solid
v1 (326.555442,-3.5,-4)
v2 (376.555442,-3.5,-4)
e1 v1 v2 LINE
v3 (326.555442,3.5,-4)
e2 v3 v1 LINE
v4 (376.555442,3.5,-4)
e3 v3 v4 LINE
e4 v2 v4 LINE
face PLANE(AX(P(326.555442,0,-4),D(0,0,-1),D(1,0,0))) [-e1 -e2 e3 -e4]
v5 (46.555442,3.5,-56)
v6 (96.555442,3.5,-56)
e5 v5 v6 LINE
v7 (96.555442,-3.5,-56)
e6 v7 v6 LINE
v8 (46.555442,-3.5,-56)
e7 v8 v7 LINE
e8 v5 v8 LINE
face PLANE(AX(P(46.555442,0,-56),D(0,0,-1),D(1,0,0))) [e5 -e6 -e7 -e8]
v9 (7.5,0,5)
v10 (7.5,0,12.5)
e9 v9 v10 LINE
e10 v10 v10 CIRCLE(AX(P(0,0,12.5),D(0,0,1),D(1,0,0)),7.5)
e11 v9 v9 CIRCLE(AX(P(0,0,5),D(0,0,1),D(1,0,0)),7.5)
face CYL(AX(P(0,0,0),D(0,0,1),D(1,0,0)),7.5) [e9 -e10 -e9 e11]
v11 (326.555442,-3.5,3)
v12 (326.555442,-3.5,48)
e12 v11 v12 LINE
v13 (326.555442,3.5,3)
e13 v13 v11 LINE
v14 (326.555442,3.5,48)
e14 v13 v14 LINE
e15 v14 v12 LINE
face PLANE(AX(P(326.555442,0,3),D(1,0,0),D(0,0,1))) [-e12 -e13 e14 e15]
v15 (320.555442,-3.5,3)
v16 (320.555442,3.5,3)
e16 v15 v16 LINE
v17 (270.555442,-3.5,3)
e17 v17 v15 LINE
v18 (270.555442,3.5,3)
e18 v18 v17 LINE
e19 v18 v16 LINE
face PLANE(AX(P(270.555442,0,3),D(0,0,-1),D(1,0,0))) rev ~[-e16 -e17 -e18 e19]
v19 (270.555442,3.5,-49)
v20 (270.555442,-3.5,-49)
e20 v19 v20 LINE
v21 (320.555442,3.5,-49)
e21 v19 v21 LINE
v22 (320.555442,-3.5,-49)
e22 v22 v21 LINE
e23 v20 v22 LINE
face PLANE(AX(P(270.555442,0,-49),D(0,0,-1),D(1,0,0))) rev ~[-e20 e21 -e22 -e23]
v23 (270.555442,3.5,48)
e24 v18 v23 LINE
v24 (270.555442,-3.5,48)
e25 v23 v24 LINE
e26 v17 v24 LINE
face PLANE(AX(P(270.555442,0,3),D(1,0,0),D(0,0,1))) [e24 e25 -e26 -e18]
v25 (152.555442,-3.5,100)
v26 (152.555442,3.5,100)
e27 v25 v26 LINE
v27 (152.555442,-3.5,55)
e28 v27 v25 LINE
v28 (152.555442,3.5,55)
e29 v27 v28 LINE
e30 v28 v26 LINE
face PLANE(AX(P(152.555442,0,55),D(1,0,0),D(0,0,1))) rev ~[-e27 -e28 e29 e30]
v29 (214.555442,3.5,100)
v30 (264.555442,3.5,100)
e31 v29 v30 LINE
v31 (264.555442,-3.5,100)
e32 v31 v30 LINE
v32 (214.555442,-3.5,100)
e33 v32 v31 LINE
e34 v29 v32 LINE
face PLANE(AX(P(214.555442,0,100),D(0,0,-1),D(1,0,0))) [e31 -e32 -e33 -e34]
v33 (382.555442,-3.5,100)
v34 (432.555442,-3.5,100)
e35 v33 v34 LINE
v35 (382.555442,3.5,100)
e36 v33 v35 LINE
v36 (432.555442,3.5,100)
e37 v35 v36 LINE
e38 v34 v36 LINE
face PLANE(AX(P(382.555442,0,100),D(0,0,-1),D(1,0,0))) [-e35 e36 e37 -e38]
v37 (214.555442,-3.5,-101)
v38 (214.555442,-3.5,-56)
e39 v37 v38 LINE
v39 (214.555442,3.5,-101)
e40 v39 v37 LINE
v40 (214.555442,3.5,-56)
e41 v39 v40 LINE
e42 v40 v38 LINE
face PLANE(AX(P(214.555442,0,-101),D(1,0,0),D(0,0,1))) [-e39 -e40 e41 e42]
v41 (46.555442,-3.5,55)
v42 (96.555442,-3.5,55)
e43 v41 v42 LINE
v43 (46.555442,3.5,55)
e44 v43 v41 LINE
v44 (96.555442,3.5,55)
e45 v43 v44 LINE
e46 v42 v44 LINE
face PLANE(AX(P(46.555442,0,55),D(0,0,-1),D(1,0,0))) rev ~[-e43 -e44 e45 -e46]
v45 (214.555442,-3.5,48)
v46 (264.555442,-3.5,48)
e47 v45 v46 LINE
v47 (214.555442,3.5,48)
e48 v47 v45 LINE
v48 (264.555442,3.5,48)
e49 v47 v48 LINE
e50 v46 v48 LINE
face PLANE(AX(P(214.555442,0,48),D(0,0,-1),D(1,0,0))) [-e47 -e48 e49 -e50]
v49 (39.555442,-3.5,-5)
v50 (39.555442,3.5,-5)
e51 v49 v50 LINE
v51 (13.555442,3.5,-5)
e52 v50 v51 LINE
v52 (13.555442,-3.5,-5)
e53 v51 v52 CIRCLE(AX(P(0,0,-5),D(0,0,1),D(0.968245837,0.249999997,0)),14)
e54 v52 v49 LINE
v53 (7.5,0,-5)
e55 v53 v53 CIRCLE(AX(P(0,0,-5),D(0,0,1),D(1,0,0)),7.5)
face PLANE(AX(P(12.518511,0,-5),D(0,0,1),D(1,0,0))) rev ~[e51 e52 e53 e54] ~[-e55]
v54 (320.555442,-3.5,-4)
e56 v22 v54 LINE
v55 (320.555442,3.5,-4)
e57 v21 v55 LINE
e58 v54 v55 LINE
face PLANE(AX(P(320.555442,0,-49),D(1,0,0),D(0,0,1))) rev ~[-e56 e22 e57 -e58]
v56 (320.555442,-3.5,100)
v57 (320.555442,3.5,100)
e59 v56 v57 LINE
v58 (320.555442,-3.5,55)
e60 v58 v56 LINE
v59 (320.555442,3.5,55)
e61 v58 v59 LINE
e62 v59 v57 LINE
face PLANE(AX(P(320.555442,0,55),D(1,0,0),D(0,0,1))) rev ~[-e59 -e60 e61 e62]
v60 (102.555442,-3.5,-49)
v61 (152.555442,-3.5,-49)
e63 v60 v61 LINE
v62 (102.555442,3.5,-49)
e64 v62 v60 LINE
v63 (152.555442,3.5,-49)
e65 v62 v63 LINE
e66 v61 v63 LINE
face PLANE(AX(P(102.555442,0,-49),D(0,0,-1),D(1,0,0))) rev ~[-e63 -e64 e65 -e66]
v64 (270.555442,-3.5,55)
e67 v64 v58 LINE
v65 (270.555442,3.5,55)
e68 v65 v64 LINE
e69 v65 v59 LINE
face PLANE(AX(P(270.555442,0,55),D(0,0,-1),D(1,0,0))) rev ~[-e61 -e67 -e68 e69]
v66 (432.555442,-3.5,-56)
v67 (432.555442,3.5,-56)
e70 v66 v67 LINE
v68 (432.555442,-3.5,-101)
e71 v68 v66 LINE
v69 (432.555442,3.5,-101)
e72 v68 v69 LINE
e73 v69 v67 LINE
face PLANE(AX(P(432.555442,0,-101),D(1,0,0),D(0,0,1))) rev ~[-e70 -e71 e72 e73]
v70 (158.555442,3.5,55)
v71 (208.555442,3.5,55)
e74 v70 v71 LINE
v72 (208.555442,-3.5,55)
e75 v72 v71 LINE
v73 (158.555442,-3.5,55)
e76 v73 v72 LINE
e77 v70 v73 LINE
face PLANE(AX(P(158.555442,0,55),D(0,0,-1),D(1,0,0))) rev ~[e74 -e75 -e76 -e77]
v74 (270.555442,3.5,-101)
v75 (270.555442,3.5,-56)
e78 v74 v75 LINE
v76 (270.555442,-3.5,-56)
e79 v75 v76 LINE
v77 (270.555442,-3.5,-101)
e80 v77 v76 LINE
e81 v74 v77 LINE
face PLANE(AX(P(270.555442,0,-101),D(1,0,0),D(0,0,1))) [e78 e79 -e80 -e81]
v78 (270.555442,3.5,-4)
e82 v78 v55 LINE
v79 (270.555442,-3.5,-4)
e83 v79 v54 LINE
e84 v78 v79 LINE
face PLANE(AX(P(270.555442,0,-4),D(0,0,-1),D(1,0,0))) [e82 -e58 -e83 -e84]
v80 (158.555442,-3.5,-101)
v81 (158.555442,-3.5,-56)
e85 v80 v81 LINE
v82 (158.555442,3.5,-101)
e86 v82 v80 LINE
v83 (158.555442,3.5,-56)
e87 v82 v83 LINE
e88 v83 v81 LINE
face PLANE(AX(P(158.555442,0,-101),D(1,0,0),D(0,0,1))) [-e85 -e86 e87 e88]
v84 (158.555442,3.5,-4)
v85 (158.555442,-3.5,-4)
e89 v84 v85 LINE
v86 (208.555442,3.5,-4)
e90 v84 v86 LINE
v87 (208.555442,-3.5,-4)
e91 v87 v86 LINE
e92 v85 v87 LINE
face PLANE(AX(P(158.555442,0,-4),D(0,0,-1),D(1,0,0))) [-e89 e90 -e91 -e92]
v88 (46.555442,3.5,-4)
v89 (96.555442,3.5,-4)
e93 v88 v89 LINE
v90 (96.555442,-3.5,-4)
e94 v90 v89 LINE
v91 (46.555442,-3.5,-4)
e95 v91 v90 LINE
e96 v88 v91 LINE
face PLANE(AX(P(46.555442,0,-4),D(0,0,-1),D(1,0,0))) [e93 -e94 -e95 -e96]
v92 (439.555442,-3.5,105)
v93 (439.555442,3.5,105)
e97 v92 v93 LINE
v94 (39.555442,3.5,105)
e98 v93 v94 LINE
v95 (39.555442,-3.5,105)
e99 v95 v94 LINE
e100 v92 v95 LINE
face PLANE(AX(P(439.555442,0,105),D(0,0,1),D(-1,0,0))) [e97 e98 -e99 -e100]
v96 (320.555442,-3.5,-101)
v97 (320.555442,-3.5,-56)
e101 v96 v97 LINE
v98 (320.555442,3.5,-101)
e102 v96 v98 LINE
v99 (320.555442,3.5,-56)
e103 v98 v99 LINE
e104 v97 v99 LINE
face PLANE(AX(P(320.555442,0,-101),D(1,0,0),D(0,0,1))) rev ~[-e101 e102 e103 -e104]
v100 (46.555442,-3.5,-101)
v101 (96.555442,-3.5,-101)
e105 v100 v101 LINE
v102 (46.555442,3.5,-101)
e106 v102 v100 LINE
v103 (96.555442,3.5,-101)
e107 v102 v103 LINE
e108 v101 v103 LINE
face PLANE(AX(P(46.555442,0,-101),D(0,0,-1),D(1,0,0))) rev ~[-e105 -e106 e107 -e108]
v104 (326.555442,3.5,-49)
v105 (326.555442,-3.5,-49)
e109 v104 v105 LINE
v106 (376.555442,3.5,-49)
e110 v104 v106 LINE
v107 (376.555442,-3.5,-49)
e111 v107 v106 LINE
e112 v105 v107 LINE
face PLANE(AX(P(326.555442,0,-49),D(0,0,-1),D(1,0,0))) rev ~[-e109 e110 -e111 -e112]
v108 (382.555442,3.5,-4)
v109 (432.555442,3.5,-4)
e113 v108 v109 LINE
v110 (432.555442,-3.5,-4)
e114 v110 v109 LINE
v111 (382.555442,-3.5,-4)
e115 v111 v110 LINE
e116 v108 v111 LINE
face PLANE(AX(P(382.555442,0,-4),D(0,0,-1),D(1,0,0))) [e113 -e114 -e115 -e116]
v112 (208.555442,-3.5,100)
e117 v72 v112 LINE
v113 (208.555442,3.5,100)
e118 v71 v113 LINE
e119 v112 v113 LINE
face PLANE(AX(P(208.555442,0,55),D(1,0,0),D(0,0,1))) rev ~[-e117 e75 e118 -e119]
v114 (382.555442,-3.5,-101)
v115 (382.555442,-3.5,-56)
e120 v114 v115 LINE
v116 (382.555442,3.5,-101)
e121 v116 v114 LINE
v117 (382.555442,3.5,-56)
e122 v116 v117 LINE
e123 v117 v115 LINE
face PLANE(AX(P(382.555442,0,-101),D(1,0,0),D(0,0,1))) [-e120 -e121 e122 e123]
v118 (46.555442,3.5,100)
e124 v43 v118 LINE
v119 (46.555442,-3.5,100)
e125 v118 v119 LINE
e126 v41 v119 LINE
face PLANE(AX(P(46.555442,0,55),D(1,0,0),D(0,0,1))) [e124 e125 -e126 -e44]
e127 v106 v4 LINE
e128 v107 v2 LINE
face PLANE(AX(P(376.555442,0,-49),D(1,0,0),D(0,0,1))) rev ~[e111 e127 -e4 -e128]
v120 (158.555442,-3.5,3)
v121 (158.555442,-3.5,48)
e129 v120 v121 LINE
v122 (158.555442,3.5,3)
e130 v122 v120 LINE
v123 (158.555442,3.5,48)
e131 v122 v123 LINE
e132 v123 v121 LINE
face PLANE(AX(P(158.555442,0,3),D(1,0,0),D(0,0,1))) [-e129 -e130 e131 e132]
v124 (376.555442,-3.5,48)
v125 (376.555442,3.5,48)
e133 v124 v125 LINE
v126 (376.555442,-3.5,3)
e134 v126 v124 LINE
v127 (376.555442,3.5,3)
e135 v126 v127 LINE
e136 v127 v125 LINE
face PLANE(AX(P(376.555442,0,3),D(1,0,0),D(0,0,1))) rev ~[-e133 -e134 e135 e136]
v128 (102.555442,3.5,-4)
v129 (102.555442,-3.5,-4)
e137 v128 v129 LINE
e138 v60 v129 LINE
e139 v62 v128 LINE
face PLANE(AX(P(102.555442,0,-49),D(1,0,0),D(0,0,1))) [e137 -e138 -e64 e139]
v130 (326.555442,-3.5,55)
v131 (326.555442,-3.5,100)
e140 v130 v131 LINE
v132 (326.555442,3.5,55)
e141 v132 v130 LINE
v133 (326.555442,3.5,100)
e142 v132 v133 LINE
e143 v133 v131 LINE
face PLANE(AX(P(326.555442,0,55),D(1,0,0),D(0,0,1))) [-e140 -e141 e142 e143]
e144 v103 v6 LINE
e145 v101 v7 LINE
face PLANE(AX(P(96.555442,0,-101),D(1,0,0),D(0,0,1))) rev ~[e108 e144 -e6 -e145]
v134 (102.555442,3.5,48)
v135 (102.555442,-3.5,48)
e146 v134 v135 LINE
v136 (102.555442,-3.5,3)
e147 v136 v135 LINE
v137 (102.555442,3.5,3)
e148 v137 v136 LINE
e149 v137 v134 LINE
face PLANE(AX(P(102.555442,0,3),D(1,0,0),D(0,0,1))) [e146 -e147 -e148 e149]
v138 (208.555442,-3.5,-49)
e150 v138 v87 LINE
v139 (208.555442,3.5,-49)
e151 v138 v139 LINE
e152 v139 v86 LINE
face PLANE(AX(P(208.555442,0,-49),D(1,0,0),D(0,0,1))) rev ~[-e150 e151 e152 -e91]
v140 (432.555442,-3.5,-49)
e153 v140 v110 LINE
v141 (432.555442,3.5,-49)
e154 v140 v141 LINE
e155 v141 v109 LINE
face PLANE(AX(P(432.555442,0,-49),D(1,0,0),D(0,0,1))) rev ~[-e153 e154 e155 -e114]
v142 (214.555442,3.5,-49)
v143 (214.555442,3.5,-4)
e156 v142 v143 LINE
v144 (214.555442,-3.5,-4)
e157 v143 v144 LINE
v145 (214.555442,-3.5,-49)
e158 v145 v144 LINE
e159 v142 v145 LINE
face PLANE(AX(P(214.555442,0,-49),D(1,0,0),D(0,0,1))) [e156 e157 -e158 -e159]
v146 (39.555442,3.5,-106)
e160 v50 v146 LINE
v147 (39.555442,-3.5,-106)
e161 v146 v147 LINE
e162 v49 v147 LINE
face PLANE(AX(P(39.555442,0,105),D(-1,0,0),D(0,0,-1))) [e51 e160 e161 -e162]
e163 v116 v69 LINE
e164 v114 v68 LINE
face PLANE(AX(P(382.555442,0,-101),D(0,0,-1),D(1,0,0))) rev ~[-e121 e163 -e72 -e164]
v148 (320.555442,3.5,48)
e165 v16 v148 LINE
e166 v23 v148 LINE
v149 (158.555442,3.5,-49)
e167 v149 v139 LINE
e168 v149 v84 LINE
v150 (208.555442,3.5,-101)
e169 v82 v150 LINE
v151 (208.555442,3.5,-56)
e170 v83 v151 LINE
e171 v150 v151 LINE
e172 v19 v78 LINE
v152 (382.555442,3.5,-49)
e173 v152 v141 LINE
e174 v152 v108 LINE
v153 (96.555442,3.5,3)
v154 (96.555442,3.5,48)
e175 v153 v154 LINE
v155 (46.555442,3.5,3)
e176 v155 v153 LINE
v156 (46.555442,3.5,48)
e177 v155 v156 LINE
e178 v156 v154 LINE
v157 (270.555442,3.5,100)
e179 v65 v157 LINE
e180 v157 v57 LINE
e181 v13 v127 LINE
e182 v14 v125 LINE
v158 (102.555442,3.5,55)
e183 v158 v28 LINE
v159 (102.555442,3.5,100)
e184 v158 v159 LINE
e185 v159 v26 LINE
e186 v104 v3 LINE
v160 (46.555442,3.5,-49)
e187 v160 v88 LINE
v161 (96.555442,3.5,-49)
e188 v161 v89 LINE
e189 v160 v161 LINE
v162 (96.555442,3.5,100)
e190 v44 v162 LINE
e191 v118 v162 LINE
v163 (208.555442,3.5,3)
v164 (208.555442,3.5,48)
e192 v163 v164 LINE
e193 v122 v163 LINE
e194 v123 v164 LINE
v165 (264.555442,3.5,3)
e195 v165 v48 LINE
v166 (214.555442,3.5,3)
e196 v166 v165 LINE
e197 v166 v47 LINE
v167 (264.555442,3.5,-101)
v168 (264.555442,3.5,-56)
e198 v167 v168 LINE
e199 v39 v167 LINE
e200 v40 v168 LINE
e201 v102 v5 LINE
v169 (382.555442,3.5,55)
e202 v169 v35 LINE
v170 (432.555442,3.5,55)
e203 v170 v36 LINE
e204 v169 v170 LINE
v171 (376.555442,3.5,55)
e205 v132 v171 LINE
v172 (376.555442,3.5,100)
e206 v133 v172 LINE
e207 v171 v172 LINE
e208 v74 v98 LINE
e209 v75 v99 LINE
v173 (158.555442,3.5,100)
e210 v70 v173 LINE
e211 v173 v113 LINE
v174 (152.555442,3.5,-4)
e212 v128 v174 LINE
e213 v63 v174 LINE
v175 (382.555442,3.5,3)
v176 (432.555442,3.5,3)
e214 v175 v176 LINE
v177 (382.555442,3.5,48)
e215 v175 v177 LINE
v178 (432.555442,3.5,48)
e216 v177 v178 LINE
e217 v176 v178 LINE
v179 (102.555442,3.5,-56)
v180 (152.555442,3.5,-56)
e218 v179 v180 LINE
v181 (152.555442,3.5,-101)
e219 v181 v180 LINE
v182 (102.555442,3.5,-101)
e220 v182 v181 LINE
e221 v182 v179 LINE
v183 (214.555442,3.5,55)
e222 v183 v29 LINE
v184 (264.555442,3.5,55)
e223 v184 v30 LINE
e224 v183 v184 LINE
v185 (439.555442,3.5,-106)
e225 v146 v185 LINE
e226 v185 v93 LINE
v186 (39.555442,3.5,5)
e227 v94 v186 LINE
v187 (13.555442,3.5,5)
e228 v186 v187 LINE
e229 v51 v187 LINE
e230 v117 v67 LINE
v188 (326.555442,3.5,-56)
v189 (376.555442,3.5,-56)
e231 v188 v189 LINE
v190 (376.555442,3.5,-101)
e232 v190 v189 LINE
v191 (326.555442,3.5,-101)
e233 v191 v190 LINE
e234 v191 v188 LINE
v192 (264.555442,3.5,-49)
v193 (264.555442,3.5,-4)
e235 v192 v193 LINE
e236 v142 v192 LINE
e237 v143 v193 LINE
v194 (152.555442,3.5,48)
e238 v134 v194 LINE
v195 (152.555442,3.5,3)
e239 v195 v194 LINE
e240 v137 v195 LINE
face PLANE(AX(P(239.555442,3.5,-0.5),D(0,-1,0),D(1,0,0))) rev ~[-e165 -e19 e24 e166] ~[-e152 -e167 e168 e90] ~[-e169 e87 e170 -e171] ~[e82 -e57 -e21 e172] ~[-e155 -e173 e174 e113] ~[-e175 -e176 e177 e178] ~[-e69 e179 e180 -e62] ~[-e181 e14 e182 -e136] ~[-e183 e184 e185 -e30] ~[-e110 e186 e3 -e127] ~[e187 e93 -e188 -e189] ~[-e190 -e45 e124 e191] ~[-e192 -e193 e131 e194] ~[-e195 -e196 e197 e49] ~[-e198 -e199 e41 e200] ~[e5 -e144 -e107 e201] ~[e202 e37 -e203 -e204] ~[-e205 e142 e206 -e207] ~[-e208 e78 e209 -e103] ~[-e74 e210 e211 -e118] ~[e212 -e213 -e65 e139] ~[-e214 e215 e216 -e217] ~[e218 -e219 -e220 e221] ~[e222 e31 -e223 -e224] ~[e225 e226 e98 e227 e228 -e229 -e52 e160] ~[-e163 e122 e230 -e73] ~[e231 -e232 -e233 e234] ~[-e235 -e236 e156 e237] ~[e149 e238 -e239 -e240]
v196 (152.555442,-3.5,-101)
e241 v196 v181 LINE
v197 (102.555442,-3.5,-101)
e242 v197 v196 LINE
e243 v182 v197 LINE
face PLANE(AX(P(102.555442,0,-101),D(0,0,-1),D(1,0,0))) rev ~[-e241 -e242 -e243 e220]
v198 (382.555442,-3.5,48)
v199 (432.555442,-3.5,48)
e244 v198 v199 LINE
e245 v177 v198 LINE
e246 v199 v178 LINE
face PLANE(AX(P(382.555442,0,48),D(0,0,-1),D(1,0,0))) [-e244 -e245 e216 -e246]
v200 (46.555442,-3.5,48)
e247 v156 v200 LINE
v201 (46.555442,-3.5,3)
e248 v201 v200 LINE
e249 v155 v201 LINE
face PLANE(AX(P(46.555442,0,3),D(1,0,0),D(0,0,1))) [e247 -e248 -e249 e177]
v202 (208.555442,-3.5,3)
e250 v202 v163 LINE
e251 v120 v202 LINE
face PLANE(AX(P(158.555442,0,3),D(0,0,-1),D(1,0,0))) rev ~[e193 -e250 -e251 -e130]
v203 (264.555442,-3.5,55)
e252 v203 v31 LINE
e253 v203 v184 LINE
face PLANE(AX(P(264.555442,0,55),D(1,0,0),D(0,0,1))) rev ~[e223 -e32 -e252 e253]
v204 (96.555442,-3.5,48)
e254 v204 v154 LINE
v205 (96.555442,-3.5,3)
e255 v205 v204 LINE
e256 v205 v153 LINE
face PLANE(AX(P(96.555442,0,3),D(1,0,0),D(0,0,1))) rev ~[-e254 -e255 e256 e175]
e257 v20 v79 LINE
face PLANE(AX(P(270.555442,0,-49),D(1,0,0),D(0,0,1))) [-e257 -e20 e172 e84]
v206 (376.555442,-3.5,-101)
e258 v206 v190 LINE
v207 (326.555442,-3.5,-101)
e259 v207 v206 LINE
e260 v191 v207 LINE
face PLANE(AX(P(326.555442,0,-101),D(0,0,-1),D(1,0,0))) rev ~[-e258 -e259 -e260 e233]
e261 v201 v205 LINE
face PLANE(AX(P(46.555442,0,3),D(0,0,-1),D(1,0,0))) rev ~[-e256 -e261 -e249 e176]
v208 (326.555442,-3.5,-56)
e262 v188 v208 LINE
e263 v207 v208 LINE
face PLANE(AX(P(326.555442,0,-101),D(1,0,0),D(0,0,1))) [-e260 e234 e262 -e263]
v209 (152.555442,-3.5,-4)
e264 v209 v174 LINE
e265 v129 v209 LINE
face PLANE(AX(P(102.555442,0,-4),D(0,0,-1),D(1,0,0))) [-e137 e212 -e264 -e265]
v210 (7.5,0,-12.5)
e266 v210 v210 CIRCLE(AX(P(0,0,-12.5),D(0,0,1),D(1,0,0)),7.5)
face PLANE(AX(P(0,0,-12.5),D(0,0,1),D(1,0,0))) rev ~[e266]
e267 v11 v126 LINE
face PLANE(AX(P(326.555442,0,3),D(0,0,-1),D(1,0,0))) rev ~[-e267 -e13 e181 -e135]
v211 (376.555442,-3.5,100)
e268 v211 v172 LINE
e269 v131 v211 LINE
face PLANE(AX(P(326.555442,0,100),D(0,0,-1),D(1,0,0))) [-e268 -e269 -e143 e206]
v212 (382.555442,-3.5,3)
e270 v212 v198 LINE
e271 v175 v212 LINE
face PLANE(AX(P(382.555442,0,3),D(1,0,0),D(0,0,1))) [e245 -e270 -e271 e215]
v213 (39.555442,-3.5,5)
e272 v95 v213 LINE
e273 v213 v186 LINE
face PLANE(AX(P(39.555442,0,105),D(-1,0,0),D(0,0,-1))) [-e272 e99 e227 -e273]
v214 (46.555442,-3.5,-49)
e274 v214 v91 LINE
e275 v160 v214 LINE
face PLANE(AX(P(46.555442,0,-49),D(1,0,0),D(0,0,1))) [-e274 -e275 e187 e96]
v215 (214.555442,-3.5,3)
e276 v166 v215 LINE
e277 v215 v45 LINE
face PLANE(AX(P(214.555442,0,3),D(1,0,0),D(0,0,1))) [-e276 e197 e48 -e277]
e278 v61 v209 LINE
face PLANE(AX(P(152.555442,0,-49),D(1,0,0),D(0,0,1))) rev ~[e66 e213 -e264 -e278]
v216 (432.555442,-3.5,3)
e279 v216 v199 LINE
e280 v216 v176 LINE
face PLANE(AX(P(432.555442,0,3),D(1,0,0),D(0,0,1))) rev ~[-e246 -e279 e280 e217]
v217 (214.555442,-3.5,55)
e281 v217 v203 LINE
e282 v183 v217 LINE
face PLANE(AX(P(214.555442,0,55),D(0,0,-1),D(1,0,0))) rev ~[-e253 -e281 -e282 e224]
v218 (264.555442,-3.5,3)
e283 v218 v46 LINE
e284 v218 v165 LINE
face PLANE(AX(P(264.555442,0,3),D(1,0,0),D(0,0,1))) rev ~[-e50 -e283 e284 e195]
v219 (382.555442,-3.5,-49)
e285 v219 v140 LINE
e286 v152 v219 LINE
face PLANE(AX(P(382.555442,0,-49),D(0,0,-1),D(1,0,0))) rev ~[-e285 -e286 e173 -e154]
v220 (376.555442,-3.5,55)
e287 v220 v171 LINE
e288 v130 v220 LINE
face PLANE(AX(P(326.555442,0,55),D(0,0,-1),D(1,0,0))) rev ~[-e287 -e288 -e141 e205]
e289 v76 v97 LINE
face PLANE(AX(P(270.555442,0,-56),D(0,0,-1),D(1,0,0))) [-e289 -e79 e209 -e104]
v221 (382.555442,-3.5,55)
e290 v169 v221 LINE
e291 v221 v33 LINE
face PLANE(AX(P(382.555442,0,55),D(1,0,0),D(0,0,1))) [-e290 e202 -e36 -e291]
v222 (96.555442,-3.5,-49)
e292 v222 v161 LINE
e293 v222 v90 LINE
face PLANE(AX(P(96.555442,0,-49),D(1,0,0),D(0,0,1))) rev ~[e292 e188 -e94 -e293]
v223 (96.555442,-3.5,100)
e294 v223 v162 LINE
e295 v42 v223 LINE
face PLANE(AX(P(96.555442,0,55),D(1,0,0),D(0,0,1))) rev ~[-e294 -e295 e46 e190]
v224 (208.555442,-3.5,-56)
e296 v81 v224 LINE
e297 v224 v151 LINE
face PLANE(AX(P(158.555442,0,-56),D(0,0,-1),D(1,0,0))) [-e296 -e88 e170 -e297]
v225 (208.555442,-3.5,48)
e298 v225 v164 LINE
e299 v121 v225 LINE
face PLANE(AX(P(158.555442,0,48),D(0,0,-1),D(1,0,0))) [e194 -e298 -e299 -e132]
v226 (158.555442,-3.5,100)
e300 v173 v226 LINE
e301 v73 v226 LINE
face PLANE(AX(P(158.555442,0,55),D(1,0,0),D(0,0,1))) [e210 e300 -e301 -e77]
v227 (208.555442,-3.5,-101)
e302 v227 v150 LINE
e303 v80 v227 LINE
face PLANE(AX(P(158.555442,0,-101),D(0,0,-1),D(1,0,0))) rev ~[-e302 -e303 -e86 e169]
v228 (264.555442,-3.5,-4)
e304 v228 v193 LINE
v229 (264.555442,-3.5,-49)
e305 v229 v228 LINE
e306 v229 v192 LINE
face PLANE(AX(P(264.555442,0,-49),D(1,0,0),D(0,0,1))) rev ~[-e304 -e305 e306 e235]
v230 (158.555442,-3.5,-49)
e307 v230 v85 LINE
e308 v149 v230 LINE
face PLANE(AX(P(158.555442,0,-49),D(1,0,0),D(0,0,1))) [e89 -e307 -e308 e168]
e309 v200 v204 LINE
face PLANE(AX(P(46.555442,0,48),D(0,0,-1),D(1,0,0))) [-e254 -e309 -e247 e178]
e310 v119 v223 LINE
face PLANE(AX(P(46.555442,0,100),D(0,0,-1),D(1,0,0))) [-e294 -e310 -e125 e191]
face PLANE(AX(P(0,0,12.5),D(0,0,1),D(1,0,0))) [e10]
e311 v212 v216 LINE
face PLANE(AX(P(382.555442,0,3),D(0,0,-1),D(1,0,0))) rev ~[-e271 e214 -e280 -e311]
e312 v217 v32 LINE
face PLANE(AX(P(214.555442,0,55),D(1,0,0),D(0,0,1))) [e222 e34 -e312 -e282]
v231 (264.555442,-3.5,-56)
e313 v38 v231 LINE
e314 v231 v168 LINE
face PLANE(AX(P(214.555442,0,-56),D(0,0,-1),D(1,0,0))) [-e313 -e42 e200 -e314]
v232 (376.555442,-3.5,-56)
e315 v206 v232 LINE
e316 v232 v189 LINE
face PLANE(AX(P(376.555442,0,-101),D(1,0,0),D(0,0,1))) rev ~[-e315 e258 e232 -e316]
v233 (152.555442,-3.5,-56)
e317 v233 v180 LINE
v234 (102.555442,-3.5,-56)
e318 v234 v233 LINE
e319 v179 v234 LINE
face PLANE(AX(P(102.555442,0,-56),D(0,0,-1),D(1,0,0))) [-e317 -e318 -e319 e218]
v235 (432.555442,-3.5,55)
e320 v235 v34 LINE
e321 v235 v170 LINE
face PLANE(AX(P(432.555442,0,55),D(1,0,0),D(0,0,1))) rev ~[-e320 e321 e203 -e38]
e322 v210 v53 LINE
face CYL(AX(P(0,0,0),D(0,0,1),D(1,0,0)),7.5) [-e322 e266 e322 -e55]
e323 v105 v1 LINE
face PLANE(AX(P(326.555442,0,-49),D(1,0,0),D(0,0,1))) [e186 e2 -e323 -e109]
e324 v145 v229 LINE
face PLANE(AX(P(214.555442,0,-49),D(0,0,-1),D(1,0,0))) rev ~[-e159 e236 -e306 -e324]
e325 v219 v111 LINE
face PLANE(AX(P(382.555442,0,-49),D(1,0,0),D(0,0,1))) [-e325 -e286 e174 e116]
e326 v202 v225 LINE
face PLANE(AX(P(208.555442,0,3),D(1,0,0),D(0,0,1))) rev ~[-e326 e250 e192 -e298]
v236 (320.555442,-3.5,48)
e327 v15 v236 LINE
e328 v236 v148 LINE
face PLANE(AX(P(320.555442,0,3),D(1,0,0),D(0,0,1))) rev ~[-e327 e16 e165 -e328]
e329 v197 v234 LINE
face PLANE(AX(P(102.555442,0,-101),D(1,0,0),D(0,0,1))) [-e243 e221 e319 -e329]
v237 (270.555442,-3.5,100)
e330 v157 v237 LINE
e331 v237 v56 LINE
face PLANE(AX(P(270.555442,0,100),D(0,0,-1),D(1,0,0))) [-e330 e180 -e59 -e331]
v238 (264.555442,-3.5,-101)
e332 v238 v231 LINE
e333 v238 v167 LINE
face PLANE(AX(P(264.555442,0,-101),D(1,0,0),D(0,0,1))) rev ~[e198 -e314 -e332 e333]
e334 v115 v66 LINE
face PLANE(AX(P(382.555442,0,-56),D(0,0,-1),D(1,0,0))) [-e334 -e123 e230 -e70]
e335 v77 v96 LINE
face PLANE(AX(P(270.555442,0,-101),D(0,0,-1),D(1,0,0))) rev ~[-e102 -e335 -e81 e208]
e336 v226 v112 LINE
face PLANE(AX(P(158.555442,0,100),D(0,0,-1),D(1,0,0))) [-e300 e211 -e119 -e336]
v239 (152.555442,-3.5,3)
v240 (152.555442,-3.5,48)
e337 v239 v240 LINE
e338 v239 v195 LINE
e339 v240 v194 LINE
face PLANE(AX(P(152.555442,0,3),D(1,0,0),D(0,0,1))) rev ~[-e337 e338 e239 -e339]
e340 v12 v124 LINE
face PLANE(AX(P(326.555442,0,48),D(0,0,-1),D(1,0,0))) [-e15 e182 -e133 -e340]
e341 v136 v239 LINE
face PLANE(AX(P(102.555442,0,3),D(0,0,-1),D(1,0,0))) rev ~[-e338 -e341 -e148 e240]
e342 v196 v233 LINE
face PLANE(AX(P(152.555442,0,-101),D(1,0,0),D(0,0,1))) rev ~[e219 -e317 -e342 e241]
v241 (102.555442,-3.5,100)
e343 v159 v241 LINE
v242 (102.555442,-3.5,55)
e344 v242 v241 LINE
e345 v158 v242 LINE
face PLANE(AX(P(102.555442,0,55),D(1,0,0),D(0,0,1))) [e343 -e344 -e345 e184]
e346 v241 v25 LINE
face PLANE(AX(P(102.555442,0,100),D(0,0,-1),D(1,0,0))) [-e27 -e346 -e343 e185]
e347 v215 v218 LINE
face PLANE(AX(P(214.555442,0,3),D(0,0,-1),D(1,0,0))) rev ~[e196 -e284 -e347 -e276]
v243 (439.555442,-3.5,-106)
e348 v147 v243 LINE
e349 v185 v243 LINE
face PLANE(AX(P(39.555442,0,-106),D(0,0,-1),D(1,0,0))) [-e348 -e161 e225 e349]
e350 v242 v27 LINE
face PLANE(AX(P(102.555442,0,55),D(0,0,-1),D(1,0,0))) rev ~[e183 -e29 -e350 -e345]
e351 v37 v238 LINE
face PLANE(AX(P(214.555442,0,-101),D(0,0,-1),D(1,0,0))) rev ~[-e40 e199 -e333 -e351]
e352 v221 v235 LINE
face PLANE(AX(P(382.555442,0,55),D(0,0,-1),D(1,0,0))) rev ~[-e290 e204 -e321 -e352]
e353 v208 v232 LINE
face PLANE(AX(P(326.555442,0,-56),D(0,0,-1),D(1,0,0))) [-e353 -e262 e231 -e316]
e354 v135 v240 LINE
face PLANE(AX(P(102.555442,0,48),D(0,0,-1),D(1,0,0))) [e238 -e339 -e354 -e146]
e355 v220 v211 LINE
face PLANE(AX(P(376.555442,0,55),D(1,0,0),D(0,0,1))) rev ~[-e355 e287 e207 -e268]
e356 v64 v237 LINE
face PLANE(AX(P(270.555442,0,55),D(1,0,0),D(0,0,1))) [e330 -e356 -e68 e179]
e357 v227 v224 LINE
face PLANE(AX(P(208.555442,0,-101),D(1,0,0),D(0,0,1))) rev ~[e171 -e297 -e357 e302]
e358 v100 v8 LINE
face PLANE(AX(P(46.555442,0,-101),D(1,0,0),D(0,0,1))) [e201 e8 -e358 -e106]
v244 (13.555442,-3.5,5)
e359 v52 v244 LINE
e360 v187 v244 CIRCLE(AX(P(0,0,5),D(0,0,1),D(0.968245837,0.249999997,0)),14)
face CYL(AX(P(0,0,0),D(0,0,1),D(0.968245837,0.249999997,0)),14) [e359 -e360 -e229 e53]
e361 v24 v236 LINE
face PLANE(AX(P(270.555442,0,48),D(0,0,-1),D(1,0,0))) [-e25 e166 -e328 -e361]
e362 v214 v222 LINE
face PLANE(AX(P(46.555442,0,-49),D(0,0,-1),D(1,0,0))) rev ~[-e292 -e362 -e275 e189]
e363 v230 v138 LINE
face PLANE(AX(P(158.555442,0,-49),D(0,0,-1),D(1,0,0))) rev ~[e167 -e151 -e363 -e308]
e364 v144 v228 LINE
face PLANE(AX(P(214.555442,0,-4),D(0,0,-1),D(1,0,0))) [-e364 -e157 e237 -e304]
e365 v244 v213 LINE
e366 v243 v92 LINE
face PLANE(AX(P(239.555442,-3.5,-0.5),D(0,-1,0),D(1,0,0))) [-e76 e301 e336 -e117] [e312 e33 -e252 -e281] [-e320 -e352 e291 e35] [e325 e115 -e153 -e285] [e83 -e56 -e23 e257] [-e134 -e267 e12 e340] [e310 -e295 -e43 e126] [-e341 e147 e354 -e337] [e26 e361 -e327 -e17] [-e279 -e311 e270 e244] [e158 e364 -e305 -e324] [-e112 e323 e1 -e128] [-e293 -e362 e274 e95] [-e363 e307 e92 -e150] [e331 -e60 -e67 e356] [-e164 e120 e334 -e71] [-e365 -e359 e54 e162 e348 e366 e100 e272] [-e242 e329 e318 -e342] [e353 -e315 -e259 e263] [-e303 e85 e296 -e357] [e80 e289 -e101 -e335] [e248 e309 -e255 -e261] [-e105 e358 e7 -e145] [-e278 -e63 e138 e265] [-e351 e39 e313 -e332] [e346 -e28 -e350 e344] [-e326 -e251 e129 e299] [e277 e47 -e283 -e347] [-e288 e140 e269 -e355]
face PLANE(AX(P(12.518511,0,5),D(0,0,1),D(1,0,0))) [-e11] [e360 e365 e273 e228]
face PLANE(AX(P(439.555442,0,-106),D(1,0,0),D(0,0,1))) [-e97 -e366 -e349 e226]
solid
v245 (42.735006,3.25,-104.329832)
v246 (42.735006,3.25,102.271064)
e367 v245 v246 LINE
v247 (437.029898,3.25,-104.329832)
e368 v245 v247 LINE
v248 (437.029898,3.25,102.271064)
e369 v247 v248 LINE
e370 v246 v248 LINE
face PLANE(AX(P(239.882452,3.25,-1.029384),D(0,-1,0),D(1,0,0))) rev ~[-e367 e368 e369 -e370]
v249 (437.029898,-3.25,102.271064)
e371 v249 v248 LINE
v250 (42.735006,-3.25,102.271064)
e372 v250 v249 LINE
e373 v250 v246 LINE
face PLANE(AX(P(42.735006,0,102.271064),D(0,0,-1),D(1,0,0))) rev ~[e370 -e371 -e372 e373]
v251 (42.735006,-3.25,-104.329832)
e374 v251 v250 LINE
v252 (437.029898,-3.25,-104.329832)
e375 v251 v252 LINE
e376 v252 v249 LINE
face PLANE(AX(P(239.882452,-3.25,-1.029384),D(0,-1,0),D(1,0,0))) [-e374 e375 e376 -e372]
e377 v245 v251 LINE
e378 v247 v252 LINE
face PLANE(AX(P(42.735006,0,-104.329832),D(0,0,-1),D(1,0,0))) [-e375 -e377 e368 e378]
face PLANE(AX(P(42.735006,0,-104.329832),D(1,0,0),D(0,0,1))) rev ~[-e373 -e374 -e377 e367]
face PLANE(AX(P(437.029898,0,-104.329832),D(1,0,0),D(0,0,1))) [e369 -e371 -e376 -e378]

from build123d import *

# Parameters (mm, degrees)
F0_R     = 7.5
F1_DEPTH = 12.5
F3_DEPTH = 5
F4_W     = 50
F4_H     = 45
F5_DEPTH = 3.5
F6_W     = 394.294891
F6_H     = 206.600897
F7_DEPTH = 3.25


with BuildPart() as f1:
    # F0 (on Top) → F1 (new body, symmetric)
    with BuildSketch(Plane.XY):
        Circle(F0_R)
    extrude(amount=F1_DEPTH, both=True)

    # F2 (on Top) → F3 (join, symmetric)
    with BuildSketch(Plane.XY):
        with BuildLine():
            Line((39.555442, 3.5), (13.555442, 3.5))
            ThreePointArc((13.555442, 3.5), (-14, 0), (13.555442, -3.5))
            Line((13.555442, -3.5), (39.555442, -3.5))
            Line((39.555442, -3.5), (39.555442, 3.5))
        make_face()
    extrude(amount=F3_DEPTH, both=True)

    # F4 (on Front) → F5 (join, symmetric)
    with BuildSketch(Plane.XZ):
        Polygon((39.555442, 105), (39.555442, 5), (39.555442, -5), (39.555442, -106), (439.555442, -106), (439.555442, 105), align=None)
        with Locations((71.555442, -78.5)):
            Rectangle(F4_W, F4_H, mode=Mode.SUBTRACT)
        with Locations((127.555442, -78.5)):
            Rectangle(F4_W, F4_H, mode=Mode.SUBTRACT)
        with Locations((183.555442, -78.5)):
            Rectangle(F4_W, F4_H, mode=Mode.SUBTRACT)
        with Locations((239.555442, -78.5)):
            Rectangle(F4_W, F4_H, mode=Mode.SUBTRACT)
        with Locations((71.555442, -26.5)):
            Rectangle(F4_W, F4_H, mode=Mode.SUBTRACT)
        with Locations((127.555442, -26.5)):
            Rectangle(F4_W, F4_H, mode=Mode.SUBTRACT)
        with Locations((183.555442, -26.5)):
            Rectangle(F4_W, F4_H, mode=Mode.SUBTRACT)
        with Locations((239.555442, -26.5)):
            Rectangle(F4_W, F4_H, mode=Mode.SUBTRACT)
        with Locations((295.555442, -78.5)):
            Rectangle(F4_W, F4_H, mode=Mode.SUBTRACT)
        with Locations((351.555442, -78.5)):
            Rectangle(F4_W, F4_H, mode=Mode.SUBTRACT)
        with Locations((407.555442, -78.5)):
            Rectangle(F4_W, F4_H, mode=Mode.SUBTRACT)
        with Locations((295.555442, -26.5)):
            Rectangle(F4_W, F4_H, mode=Mode.SUBTRACT)
        with Locations((351.555442, -26.5)):
            Rectangle(F4_W, F4_H, mode=Mode.SUBTRACT)
        with Locations((407.555442, -26.5)):
            Rectangle(F4_W, F4_H, mode=Mode.SUBTRACT)
        with Locations((71.555442, 25.5)):
            Rectangle(F4_W, F4_H, mode=Mode.SUBTRACT)
        with Locations((127.555442, 25.5)):
            Rectangle(F4_W, F4_H, mode=Mode.SUBTRACT)
        with Locations((183.555442, 25.5)):
            Rectangle(F4_W, F4_H, mode=Mode.SUBTRACT)
        with Locations((239.555442, 25.5)):
            Rectangle(F4_W, F4_H, mode=Mode.SUBTRACT)
        with Locations((71.555442, 77.5)):
            Rectangle(F4_W, F4_H, mode=Mode.SUBTRACT)
        with Locations((127.555442, 77.5)):
            Rectangle(F4_W, F4_H, mode=Mode.SUBTRACT)
        with Locations((183.555442, 77.5)):
            Rectangle(F4_W, F4_H, mode=Mode.SUBTRACT)
        with Locations((239.555442, 77.5)):
            Rectangle(F4_W, F4_H, mode=Mode.SUBTRACT)
        with Locations((295.555442, 25.5)):
            Rectangle(F4_W, F4_H, mode=Mode.SUBTRACT)
        with Locations((351.555442, 25.5)):
            Rectangle(F4_W, F4_H, mode=Mode.SUBTRACT)
        with Locations((407.555442, 25.5)):
            Rectangle(F4_W, F4_H, mode=Mode.SUBTRACT)
        with Locations((295.555442, 77.5)):
            Rectangle(F4_W, F4_H, mode=Mode.SUBTRACT)
        with Locations((351.555442, 77.5)):
            Rectangle(F4_W, F4_H, mode=Mode.SUBTRACT)
        with Locations((407.555442, 77.5)):
            Rectangle(F4_W, F4_H, mode=Mode.SUBTRACT)
    extrude(amount=F5_DEPTH, both=True)


with BuildPart() as f7:
    # F6 (on Front) → F7 (new body, symmetric)
    with BuildSketch(Plane.XZ):
        with Locations((239.882452, -1.029384)):
            Rectangle(F6_W, F6_H)
    extrude(amount=F7_DEPTH, both=True)


solid = Compound([f1.part, f7.part])
